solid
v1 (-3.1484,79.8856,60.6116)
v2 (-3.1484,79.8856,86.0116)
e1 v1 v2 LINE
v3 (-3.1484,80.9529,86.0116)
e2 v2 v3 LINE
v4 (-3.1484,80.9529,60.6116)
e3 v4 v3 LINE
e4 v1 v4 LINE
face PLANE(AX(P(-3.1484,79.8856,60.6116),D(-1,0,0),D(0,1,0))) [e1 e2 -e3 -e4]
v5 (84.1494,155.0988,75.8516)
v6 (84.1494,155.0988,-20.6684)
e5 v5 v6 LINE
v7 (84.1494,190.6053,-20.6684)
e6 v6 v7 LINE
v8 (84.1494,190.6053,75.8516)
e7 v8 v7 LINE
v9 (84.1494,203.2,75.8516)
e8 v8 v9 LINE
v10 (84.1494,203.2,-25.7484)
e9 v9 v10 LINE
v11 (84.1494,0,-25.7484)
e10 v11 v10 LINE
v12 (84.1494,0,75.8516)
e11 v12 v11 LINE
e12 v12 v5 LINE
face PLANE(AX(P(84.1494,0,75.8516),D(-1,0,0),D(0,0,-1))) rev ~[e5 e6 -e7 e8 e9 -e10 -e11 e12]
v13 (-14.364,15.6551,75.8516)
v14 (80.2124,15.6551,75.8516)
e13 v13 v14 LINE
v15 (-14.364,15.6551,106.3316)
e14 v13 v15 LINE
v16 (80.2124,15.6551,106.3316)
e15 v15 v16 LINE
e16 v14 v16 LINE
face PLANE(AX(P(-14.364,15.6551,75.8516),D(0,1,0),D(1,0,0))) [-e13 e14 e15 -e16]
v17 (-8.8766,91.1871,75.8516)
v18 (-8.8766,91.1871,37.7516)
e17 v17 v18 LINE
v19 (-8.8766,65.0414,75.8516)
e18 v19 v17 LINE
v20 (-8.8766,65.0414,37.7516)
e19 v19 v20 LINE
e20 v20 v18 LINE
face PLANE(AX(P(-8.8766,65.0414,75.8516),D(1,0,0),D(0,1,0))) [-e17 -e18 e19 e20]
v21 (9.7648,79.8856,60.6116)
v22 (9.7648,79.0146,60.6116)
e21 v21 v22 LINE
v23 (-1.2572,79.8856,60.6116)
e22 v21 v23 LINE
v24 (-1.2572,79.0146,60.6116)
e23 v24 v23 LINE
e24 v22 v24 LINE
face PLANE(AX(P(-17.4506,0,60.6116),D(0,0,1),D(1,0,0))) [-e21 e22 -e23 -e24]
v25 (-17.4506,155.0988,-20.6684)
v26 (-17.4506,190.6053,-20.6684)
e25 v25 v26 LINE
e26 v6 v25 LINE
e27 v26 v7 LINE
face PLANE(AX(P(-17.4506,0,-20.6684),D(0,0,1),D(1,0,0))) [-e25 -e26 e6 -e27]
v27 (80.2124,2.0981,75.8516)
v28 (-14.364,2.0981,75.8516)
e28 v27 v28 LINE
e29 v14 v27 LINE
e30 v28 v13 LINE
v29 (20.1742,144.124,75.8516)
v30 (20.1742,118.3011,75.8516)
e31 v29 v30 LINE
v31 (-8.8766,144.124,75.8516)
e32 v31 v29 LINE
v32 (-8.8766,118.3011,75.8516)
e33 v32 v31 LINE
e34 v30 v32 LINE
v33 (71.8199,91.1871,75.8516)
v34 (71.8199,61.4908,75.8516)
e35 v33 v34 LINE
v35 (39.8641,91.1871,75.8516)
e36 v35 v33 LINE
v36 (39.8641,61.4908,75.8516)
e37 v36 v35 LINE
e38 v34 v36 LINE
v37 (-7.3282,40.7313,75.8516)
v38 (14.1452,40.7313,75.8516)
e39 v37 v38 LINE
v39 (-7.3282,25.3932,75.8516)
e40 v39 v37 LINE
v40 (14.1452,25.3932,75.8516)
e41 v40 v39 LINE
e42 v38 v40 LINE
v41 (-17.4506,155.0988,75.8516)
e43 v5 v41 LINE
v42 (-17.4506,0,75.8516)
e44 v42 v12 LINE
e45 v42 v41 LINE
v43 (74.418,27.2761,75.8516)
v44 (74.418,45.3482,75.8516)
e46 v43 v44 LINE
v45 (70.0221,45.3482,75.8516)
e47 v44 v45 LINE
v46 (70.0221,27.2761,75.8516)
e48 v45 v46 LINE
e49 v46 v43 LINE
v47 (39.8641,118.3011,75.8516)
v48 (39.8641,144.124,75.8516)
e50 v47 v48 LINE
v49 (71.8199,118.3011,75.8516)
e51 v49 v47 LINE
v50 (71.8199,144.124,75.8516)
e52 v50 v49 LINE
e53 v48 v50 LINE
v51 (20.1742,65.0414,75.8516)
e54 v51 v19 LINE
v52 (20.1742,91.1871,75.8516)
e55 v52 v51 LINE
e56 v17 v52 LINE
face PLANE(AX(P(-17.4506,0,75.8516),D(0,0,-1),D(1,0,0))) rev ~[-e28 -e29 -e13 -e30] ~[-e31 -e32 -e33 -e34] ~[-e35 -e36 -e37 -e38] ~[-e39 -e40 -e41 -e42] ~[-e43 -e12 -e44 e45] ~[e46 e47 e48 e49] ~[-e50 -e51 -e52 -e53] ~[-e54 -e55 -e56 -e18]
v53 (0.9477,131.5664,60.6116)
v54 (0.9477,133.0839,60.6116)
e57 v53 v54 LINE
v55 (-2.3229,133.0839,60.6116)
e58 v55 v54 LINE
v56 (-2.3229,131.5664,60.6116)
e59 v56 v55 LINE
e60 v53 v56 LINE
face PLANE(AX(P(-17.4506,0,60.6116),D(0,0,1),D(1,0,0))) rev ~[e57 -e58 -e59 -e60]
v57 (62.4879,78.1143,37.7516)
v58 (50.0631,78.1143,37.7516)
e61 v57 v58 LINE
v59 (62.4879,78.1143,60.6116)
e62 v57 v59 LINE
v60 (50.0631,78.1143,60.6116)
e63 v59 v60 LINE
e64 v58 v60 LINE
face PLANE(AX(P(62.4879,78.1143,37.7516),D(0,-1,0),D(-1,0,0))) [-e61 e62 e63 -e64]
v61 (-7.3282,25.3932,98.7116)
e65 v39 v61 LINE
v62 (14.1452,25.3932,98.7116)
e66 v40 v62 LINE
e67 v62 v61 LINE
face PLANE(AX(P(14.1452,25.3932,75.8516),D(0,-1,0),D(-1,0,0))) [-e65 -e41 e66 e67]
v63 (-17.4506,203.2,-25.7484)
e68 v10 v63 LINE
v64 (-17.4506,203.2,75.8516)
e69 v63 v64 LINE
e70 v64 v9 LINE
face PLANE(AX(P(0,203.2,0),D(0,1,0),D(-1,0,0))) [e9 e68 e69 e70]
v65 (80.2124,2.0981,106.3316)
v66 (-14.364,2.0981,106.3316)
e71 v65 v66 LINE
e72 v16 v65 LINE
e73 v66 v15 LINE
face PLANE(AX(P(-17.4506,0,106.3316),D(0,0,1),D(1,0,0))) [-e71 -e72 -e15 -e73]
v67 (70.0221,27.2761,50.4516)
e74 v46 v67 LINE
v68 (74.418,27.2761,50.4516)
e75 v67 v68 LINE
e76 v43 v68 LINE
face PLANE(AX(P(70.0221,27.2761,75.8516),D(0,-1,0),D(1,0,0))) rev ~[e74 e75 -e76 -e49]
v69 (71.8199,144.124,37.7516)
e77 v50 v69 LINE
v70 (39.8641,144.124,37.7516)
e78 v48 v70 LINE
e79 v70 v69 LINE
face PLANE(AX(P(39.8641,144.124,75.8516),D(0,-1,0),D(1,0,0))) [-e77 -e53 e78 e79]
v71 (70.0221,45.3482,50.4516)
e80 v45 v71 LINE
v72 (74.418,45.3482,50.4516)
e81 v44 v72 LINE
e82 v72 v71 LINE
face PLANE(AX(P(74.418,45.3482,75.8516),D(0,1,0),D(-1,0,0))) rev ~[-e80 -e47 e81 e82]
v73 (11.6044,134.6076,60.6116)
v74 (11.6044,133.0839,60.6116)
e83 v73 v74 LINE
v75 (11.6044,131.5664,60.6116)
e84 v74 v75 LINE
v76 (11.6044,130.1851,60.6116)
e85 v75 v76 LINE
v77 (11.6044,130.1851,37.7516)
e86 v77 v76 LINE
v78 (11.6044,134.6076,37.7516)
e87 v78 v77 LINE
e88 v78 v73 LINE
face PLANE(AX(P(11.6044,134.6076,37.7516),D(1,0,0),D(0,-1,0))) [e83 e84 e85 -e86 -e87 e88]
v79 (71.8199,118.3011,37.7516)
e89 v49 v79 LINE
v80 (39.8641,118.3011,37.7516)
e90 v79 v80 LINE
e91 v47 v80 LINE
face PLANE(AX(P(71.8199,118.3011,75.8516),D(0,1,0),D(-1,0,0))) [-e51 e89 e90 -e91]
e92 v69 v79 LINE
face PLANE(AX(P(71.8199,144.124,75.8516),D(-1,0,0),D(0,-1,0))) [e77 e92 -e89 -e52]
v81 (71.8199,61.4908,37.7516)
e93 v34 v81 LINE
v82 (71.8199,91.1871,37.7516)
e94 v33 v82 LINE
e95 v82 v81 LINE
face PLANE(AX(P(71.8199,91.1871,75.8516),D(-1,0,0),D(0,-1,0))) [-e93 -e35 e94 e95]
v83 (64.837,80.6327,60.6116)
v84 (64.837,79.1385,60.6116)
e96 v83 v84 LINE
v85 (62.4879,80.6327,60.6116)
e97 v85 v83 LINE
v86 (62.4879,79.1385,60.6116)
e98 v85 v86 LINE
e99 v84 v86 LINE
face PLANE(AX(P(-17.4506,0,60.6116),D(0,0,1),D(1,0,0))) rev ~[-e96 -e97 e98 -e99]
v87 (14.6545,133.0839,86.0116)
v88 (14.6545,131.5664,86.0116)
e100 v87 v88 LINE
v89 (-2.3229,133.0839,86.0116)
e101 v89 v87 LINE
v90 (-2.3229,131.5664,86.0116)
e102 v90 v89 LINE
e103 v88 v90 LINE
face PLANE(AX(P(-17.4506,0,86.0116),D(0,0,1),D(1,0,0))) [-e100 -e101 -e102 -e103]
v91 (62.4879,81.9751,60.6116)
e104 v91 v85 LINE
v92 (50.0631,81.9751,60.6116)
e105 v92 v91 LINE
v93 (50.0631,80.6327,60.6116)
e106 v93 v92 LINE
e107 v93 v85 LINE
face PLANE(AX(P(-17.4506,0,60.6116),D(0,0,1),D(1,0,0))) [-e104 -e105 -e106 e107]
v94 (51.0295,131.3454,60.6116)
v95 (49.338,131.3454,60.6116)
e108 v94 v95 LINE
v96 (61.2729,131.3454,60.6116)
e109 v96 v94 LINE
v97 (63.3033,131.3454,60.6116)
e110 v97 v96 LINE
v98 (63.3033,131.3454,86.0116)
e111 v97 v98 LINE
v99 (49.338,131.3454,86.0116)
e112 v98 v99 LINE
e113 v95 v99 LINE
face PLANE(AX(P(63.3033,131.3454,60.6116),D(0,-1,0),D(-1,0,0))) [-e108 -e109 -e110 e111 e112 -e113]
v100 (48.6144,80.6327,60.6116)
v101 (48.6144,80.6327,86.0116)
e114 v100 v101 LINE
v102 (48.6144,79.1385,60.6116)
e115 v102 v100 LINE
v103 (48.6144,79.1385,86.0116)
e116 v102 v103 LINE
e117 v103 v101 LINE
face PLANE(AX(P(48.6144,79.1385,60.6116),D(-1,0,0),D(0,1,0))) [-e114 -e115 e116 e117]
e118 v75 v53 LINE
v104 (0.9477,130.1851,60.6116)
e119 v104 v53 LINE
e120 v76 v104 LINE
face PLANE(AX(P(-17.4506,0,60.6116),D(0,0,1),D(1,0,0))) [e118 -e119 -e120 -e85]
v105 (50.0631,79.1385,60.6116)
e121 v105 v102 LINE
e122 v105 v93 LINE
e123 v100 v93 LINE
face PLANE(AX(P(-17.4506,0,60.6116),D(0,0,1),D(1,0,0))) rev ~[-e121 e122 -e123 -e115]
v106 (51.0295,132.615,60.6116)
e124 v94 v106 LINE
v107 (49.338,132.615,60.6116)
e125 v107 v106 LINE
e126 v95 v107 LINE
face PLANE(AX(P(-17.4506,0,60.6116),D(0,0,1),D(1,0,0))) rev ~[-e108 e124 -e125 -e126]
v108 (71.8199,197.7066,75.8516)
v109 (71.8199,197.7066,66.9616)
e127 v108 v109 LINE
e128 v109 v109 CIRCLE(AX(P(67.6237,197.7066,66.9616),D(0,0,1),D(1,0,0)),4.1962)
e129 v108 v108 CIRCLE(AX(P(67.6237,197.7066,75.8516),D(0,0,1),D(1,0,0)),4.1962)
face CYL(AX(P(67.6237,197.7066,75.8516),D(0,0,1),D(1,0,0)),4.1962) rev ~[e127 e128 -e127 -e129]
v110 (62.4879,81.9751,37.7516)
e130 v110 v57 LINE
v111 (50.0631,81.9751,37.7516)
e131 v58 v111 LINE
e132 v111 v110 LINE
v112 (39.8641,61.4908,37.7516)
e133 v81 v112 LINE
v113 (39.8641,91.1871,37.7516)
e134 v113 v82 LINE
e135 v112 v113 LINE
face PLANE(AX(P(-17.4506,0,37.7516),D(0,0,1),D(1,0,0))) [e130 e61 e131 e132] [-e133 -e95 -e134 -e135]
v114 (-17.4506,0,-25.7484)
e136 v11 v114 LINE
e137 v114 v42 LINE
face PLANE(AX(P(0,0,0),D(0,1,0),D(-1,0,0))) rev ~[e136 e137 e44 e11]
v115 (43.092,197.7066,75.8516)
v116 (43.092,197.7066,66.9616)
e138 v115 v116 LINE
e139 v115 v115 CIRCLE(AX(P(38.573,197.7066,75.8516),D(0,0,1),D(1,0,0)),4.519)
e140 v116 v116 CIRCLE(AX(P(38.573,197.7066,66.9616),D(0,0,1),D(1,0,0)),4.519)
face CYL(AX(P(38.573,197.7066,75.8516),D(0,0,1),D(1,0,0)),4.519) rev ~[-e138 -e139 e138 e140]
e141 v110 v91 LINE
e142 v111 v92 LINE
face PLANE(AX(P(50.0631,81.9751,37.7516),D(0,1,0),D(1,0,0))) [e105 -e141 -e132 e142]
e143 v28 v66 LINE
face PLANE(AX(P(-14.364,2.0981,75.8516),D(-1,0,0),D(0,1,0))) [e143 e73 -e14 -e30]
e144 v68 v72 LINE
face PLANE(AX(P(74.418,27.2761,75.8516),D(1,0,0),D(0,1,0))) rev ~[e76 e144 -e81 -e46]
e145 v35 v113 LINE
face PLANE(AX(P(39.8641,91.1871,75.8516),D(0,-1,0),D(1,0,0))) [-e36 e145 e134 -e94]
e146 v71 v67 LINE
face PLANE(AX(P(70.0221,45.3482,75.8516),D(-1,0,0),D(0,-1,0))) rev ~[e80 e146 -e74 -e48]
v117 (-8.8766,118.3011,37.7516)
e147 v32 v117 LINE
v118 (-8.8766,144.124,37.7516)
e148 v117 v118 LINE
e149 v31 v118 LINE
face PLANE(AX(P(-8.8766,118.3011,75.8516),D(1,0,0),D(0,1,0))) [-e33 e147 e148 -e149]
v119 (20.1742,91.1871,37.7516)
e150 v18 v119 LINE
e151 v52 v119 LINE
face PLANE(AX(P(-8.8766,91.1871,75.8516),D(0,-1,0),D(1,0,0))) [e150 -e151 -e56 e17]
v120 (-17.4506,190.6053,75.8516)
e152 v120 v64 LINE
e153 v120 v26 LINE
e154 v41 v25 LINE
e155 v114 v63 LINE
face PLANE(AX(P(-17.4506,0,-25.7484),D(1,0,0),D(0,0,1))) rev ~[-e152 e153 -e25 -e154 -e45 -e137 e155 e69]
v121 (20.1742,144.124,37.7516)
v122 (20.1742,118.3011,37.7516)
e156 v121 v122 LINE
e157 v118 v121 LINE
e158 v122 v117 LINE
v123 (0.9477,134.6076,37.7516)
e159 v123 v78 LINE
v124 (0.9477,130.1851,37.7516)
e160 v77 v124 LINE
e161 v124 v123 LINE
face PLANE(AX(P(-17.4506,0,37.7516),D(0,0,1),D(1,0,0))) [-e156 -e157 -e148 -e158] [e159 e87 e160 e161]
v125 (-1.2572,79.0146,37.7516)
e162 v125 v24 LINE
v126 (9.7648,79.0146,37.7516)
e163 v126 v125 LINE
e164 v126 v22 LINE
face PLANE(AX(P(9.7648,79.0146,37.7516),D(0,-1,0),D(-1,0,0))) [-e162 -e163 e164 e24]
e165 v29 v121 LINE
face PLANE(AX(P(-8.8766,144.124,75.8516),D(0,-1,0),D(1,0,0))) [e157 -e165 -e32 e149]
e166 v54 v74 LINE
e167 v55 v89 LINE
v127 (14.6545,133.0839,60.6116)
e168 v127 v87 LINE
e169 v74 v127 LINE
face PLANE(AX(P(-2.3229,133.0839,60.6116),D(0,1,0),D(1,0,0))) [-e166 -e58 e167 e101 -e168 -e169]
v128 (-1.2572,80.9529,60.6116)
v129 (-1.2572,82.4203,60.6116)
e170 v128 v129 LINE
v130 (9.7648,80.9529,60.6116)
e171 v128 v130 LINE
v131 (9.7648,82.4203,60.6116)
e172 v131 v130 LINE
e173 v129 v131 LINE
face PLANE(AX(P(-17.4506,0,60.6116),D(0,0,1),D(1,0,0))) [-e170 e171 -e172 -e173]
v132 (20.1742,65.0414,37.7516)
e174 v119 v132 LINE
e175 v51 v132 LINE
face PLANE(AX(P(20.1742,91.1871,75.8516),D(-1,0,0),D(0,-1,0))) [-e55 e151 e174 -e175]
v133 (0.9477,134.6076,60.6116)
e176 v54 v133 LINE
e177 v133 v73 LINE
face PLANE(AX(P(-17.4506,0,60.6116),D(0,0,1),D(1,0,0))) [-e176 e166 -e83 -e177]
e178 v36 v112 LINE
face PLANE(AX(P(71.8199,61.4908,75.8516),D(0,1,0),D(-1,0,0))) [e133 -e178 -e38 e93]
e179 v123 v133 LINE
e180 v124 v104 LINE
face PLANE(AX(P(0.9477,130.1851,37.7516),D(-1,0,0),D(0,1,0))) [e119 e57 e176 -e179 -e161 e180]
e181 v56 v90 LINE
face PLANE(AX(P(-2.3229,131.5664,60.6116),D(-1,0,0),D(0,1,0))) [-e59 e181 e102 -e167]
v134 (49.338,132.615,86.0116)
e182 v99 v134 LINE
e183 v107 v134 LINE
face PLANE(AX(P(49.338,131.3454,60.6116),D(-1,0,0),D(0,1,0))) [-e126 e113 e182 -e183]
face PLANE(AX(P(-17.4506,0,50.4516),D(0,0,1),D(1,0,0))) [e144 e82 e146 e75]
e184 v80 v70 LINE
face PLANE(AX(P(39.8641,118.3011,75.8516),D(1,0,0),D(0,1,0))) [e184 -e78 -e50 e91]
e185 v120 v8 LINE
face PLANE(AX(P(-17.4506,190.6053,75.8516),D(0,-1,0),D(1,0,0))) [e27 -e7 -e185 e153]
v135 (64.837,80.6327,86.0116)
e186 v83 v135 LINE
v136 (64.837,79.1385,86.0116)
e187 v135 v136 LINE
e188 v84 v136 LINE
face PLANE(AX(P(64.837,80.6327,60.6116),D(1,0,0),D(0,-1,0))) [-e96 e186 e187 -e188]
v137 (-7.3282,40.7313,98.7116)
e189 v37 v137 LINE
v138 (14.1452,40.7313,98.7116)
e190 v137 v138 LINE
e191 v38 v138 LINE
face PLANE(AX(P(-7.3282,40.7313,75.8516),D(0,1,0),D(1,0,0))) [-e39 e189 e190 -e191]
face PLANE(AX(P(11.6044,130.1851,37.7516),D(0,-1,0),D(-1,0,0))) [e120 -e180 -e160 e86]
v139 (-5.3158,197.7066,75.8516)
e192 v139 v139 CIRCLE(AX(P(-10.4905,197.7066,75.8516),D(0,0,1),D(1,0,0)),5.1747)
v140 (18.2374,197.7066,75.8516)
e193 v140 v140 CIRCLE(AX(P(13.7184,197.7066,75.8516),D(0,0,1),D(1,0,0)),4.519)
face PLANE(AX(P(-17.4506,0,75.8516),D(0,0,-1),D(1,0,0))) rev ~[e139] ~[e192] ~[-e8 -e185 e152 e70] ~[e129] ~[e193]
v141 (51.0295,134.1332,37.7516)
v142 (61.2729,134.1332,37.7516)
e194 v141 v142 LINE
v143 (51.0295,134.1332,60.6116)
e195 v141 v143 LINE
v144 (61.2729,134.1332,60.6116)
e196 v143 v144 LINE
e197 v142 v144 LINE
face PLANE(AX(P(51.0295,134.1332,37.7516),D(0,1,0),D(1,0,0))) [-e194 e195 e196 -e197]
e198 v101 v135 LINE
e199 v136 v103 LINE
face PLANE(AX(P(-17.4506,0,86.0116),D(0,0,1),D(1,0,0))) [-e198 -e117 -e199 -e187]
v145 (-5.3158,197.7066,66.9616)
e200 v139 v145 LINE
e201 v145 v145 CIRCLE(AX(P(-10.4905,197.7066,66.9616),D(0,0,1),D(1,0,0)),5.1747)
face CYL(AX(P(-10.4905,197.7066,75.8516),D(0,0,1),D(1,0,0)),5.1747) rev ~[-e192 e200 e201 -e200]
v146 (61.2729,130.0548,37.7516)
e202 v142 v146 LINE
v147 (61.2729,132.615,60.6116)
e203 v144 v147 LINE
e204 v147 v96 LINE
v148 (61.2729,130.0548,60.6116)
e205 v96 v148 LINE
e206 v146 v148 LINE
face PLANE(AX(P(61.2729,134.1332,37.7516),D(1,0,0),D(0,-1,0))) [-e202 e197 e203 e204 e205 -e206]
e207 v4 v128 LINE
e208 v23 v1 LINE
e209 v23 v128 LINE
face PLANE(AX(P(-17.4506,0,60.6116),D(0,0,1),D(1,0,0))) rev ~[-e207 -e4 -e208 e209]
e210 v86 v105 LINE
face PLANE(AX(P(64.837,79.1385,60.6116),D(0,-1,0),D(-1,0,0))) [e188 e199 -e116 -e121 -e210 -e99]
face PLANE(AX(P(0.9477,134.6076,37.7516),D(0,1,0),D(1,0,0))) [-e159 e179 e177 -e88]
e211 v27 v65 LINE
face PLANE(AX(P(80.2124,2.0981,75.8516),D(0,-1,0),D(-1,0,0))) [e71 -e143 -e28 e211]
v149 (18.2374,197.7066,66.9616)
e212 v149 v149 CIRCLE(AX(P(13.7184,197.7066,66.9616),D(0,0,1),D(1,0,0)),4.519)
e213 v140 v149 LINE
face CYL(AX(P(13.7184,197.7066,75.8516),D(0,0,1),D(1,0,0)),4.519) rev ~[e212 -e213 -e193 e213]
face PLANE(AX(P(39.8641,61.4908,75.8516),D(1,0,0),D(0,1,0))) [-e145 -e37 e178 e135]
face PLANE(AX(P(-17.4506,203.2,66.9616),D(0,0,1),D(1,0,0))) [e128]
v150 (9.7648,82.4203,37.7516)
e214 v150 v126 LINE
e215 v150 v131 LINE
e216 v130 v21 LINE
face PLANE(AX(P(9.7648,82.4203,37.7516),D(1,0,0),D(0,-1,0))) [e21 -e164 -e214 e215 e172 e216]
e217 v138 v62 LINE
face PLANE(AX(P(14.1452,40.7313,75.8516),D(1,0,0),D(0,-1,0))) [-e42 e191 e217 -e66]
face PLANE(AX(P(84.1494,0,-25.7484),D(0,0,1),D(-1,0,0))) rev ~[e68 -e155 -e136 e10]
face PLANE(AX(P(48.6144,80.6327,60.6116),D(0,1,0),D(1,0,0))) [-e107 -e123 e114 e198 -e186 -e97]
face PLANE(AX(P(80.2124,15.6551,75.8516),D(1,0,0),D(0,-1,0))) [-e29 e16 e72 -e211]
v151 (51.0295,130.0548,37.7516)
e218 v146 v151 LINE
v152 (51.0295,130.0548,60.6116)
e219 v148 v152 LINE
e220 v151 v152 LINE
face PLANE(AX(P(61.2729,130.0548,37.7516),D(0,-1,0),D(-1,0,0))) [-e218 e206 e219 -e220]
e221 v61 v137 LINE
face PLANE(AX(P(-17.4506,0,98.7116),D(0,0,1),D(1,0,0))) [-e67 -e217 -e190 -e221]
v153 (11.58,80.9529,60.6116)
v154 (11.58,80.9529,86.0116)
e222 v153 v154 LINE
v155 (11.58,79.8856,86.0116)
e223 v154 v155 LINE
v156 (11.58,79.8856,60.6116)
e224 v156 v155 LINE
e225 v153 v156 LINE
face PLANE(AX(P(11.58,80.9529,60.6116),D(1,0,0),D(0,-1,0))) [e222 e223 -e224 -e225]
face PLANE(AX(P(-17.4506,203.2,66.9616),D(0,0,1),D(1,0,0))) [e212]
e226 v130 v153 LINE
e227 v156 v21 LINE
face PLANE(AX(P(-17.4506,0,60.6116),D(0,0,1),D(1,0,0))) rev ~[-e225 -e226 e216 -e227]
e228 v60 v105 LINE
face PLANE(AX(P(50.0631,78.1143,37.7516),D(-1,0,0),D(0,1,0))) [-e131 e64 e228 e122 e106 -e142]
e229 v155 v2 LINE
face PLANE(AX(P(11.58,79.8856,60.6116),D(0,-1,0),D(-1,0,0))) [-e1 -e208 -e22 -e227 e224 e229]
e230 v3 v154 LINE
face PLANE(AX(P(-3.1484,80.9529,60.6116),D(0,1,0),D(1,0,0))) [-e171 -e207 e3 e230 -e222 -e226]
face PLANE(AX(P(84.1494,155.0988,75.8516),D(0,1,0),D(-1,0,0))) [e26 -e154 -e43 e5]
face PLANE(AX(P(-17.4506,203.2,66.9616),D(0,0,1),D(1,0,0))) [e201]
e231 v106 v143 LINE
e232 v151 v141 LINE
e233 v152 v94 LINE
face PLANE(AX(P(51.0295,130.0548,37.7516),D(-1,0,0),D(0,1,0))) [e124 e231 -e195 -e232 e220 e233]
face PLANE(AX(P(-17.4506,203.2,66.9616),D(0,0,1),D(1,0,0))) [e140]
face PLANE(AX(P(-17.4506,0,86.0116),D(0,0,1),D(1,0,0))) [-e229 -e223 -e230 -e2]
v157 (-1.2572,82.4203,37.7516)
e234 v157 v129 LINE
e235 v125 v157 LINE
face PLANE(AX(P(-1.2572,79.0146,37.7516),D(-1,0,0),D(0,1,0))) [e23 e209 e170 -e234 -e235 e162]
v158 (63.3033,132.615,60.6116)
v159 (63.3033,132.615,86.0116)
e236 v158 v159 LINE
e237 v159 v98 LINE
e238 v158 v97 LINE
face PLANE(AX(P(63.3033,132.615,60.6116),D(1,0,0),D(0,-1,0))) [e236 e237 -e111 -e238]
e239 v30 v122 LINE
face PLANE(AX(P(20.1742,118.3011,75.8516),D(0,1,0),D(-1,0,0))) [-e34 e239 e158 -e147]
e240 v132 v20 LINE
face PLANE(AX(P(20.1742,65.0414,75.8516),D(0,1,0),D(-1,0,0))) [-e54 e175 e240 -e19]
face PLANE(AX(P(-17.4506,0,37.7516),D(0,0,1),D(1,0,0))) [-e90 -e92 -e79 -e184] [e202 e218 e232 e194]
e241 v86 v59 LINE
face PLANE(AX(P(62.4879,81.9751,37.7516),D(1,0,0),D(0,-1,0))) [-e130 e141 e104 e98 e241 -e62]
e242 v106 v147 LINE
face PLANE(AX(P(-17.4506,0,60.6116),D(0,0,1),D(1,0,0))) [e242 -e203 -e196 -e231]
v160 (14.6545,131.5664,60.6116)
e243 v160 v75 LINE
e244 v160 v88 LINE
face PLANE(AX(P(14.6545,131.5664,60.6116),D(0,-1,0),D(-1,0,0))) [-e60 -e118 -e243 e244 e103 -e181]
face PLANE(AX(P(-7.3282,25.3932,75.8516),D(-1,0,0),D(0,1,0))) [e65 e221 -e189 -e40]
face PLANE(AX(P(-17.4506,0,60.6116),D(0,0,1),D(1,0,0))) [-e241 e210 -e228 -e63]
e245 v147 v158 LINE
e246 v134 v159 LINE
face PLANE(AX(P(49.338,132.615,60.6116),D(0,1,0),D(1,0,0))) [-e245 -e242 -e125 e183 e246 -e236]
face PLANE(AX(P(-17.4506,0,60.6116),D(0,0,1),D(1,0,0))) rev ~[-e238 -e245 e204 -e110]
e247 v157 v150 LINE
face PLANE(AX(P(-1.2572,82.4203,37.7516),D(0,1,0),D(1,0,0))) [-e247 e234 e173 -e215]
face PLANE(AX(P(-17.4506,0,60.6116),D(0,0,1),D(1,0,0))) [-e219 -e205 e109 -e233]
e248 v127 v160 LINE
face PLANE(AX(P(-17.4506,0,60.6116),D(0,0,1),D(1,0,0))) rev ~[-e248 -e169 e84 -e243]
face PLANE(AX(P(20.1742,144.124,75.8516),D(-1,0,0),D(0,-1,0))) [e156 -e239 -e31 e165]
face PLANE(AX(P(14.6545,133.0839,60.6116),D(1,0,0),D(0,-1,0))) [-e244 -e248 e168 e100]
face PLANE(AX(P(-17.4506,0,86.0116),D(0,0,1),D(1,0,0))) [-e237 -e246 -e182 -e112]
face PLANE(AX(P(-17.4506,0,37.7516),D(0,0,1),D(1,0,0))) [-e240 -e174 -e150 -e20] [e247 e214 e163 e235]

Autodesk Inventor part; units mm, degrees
ref_plane "YZ Plane" through (0, 0, 0) normal (1, 0, 0) x (0, 1, 0)
ref_plane "XZ Plane" through (0, 0, 0) normal (0, 1, 0) x (-1, 0, 0)
ref_plane "XY Plane" through (0, 0, 0) normal (0, 0, 1) x (1, 0, 0)
sketch "Sketch1" plane through (0, 0, 0) normal (0, 1, 0) x (-1, 0, 0)
  line L0 (17.4506, 75.8516) -> (-84.1494, 75.8516)
  line L1 (-84.1494, 75.8516) -> (-84.1494, -25.7484)
  line L2 (-84.1494, -25.7484) -> (17.4506, -25.7484)
  line L3 (17.4506, -25.7484) -> (17.4506, 75.8516)
  point P0 (0, 0)
  dimension "d0" = 101.6
  dimension "d1" = 101.6
extrude "Extrusion1" add sketch "Sketch1" along normal blind 203.2
sketch "Sketch2" plane through (-17.4506, 0, 75.8516) normal (0, 0, 1) x (1, 0, 0)
  line L0 (0, 0) -> (0, 203.2) projected
  line L1 (101.6, 0) -> (101.6, 203.2) projected
  line L2 (0, 190.6053) -> (101.6, 190.6053)
  line L3 (101.6, 190.6053) -> (101.6, 155.0988)
  line L4 (101.6, 155.0988) -> (0, 155.0988)
  line L5 (0, 155.0988) -> (0, 190.6053)
  point P0 (17.4506, 0)
  point P1 (0, 155.0988)
  point P2 (101.6, 190.6053)
extrude "Extrusion2" cut sketch "Sketch2" against normal blind 96.52
sketch "Sketch3" plane through (-17.4506, 203.2, 75.8516) normal (0, 0, 1) x (1, 0, 0)
  circle A0 centre (6.9601, -5.4934) radius 5.1747
  circle A1 centre (31.169, -5.4934) radius 4.519
  circle A2 centre (56.0236, -5.4934) radius 4.519
  circle A3 centre (85.0743, -5.4934) radius 4.1962
  point P0 (17.4506, -203.2)
extrude "Extrusion3" cut sketch "Sketch3" against normal blind 8.89
sketch "Sketch4" plane through (-17.4506, 0, 75.8516) normal (0, 0, 1) x (1, 0, 0)
  line L0 (8.574, 144.124) -> (37.6248, 144.124)
  line L1 (37.6248, 144.124) -> (37.6248, 118.3011)
  line L2 (37.6248, 118.3011) -> (8.574, 118.3011)
  line L3 (8.574, 118.3011) -> (8.574, 144.124)
  line L4 (57.3147, 144.124) -> (89.2705, 144.124)
  line L5 (89.2705, 144.124) -> (89.2705, 118.3011)
  line L6 (89.2705, 118.3011) -> (57.3147, 118.3011)
  line L7 (57.3147, 118.3011) -> (57.3147, 144.124)
  line L8 (8.574, 91.1871) -> (37.6248, 91.1871)
  line L9 (37.6248, 91.1871) -> (37.6248, 65.0414)
  line L10 (37.6248, 65.0414) -> (8.574, 65.0414)
  line L11 (8.574, 65.0414) -> (8.574, 91.1871)
  line L12 (57.3147, 91.1871) -> (89.2705, 91.1871)
  line L13 (89.2705, 91.1871) -> (89.2705, 61.4908)
  line L14 (89.2705, 61.4908) -> (57.3147, 61.4908)
  line L15 (57.3147, 61.4908) -> (57.3147, 91.1871)
  point P0 (17.4506, 0)
extrude "Extrusion4" cut sketch "Sketch4" against normal blind 38.1
sketch "Sketch5" plane through (-17.4506, 0, 75.8516) normal (0, 0, 1) x (1, 0, 0)
  line L0 (87.4727, 45.3482) -> (87.4727, 27.2761)
  line L1 (87.4727, 27.2761) -> (91.8686, 27.2761)
  line L2 (91.8686, 27.2761) -> (91.8686, 45.3482)
  line L3 (91.8686, 45.3482) -> (87.4727, 45.3482)
  point P0 (17.4506, 0)
extrude "Extrusion5" cut sketch "Sketch5" against normal blind 25.4
sketch "Sketch6" plane through (-17.4506, 0, 75.8516) normal (0, 0, 1) x (1, 0, 0)
  line L0 (3.0866, 15.6551) -> (97.663, 15.6551)
  line L1 (97.663, 15.6551) -> (97.663, 2.0981)
  line L2 (97.663, 2.0981) -> (3.0866, 2.0981)
  line L3 (3.0866, 2.0981) -> (3.0866, 15.6551)
  point P0 (17.4506, 0)
extrude "Extrusion6" add sketch "Sketch6" along normal blind 30.48
sketch "Sketch7" plane through (-17.4506, 0, 75.8516) normal (0, 0, 1) x (1, 0, 0)
  line L0 (10.1224, 40.7313) -> (31.5958, 40.7313)
  line L1 (31.5958, 40.7313) -> (31.5958, 25.3932)
  line L2 (31.5958, 25.3932) -> (10.1224, 25.3932)
  line L3 (10.1224, 25.3932) -> (10.1224, 40.7313)
  point P0 (17.4506, 0)
extrude "Extrusion7" add sketch "Sketch7" along normal blind 22.86
sketch "Sketch8" plane through (-17.4506, 0, 37.7516) normal (0, 0, 1) x (1, 0, 0)
  line L0 (18.3983, 134.6076) -> (29.055, 134.6076)
  line L1 (29.055, 134.6076) -> (29.055, 130.1851)
  line L2 (29.055, 130.1851) -> (18.3983, 130.1851)
  line L3 (18.3983, 130.1851) -> (18.3983, 134.6076)
  point P0 (17.4506, 0)
extrude "Extrusion8" add sketch "Sketch8" along normal blind 22.86
sketch "Sketch9" plane through (-17.4506, 0, 37.7516) normal (0, 0, 1) x (1, 0, 0)
  line L0 (68.4801, 134.1332) -> (78.7235, 134.1332)
  line L1 (78.7235, 134.1332) -> (78.7235, 130.0548)
  line L2 (78.7235, 130.0548) -> (68.4801, 130.0548)
  line L3 (68.4801, 130.0548) -> (68.4801, 134.1332)
  point P0 (17.4506, 0)
extrude "Extrusion9" add sketch "Sketch9" along normal blind 22.86
sketch "Sketch10" plane through (-17.4506, 0, 37.7516) normal (0, 0, 1) x (1, 0, 0)
  line L0 (16.1934, 82.4203) -> (27.2154, 82.4203)
  line L1 (27.2154, 82.4203) -> (27.2154, 79.0146)
  line L2 (27.2154, 79.0146) -> (16.1934, 79.0146)
  line L3 (16.1934, 79.0146) -> (16.1934, 82.4203)
  point P0 (17.4506, 0)
extrude "Extrusion10" add sketch "Sketch10" along normal blind 22.86
sketch "Sketch11" plane through (-17.4506, 0, 37.7516) normal (0, 0, 1) x (1, 0, 0)
  line L0 (67.5137, 81.9751) -> (79.9385, 81.9751)
  line L1 (79.9385, 81.9751) -> (79.9385, 78.1143)
  line L2 (79.9385, 78.1143) -> (67.5137, 78.1143)
  line L3 (67.5137, 78.1143) -> (67.5137, 81.9751)
  point P0 (17.4506, 0)
extrude "Extrusion11" add sketch "Sketch11" along normal blind 22.86
sketch "Sketch12" plane through (-17.4506, 0, 60.6116) normal (0, 0, 1) x (1, 0, 0)
  line L0 (15.1277, 133.0839) -> (32.1051, 133.0839)
  line L1 (32.1051, 133.0839) -> (32.1051, 131.5664)
  line L2 (32.1051, 131.5664) -> (15.1277, 131.5664)
  line L3 (15.1277, 131.5664) -> (15.1277, 133.0839)
  point P0 (17.4506, 0)
extrude "Extrusion12" add sketch "Sketch12" along normal blind 25.4
sketch "Sketch13" plane through (-17.4506, 0, 60.6116) normal (0, 0, 1) x (1, 0, 0)
  line L0 (66.7886, 132.615) -> (80.7539, 132.615)
  line L1 (80.7539, 132.615) -> (80.7539, 131.3454)
  line L2 (80.7539, 131.3454) -> (66.7886, 131.3454)
  line L3 (66.7886, 131.3454) -> (66.7886, 132.615)
  point P0 (17.4506, 0)
extrude "Extrusion13" add sketch "Sketch13" along normal blind 25.4
sketch "Sketch14" plane through (-17.4506, 0, 60.6116) normal (0, 0, 1) x (1, 0, 0)
  line L0 (14.3022, 80.9529) -> (29.0306, 80.9529)
  line L1 (29.0306, 80.9529) -> (29.0306, 79.8856)
  line L2 (29.0306, 79.8856) -> (14.3022, 79.8856)
  line L3 (14.3022, 79.8856) -> (14.3022, 80.9529)
  point P0 (17.4506, 0)
extrude "Extrusion14" add sketch "Sketch14" along normal blind 25.4
sketch "Sketch15" plane through (-17.4506, 0, 60.6116) normal (0, 0, 1) x (1, 0, 0)
  line L0 (66.065, 80.6327) -> (82.2876, 80.6327)
  line L1 (82.2876, 80.6327) -> (82.2876, 79.1385)
  line L2 (82.2876, 79.1385) -> (66.065, 79.1385)
  line L3 (66.065, 79.1385) -> (66.065, 80.6327)
  point P0 (17.4506, 0)
extrude "Extrusion15" add sketch "Sketch15" along normal blind 25.4
sketch "Sketch16" plane through (-17.4506, 155.0988, 75.8516) normal (0, 1, 0) x (1, 0, 0)
  point P0 (17.4506, 75.8516)
properties part number "fff"
